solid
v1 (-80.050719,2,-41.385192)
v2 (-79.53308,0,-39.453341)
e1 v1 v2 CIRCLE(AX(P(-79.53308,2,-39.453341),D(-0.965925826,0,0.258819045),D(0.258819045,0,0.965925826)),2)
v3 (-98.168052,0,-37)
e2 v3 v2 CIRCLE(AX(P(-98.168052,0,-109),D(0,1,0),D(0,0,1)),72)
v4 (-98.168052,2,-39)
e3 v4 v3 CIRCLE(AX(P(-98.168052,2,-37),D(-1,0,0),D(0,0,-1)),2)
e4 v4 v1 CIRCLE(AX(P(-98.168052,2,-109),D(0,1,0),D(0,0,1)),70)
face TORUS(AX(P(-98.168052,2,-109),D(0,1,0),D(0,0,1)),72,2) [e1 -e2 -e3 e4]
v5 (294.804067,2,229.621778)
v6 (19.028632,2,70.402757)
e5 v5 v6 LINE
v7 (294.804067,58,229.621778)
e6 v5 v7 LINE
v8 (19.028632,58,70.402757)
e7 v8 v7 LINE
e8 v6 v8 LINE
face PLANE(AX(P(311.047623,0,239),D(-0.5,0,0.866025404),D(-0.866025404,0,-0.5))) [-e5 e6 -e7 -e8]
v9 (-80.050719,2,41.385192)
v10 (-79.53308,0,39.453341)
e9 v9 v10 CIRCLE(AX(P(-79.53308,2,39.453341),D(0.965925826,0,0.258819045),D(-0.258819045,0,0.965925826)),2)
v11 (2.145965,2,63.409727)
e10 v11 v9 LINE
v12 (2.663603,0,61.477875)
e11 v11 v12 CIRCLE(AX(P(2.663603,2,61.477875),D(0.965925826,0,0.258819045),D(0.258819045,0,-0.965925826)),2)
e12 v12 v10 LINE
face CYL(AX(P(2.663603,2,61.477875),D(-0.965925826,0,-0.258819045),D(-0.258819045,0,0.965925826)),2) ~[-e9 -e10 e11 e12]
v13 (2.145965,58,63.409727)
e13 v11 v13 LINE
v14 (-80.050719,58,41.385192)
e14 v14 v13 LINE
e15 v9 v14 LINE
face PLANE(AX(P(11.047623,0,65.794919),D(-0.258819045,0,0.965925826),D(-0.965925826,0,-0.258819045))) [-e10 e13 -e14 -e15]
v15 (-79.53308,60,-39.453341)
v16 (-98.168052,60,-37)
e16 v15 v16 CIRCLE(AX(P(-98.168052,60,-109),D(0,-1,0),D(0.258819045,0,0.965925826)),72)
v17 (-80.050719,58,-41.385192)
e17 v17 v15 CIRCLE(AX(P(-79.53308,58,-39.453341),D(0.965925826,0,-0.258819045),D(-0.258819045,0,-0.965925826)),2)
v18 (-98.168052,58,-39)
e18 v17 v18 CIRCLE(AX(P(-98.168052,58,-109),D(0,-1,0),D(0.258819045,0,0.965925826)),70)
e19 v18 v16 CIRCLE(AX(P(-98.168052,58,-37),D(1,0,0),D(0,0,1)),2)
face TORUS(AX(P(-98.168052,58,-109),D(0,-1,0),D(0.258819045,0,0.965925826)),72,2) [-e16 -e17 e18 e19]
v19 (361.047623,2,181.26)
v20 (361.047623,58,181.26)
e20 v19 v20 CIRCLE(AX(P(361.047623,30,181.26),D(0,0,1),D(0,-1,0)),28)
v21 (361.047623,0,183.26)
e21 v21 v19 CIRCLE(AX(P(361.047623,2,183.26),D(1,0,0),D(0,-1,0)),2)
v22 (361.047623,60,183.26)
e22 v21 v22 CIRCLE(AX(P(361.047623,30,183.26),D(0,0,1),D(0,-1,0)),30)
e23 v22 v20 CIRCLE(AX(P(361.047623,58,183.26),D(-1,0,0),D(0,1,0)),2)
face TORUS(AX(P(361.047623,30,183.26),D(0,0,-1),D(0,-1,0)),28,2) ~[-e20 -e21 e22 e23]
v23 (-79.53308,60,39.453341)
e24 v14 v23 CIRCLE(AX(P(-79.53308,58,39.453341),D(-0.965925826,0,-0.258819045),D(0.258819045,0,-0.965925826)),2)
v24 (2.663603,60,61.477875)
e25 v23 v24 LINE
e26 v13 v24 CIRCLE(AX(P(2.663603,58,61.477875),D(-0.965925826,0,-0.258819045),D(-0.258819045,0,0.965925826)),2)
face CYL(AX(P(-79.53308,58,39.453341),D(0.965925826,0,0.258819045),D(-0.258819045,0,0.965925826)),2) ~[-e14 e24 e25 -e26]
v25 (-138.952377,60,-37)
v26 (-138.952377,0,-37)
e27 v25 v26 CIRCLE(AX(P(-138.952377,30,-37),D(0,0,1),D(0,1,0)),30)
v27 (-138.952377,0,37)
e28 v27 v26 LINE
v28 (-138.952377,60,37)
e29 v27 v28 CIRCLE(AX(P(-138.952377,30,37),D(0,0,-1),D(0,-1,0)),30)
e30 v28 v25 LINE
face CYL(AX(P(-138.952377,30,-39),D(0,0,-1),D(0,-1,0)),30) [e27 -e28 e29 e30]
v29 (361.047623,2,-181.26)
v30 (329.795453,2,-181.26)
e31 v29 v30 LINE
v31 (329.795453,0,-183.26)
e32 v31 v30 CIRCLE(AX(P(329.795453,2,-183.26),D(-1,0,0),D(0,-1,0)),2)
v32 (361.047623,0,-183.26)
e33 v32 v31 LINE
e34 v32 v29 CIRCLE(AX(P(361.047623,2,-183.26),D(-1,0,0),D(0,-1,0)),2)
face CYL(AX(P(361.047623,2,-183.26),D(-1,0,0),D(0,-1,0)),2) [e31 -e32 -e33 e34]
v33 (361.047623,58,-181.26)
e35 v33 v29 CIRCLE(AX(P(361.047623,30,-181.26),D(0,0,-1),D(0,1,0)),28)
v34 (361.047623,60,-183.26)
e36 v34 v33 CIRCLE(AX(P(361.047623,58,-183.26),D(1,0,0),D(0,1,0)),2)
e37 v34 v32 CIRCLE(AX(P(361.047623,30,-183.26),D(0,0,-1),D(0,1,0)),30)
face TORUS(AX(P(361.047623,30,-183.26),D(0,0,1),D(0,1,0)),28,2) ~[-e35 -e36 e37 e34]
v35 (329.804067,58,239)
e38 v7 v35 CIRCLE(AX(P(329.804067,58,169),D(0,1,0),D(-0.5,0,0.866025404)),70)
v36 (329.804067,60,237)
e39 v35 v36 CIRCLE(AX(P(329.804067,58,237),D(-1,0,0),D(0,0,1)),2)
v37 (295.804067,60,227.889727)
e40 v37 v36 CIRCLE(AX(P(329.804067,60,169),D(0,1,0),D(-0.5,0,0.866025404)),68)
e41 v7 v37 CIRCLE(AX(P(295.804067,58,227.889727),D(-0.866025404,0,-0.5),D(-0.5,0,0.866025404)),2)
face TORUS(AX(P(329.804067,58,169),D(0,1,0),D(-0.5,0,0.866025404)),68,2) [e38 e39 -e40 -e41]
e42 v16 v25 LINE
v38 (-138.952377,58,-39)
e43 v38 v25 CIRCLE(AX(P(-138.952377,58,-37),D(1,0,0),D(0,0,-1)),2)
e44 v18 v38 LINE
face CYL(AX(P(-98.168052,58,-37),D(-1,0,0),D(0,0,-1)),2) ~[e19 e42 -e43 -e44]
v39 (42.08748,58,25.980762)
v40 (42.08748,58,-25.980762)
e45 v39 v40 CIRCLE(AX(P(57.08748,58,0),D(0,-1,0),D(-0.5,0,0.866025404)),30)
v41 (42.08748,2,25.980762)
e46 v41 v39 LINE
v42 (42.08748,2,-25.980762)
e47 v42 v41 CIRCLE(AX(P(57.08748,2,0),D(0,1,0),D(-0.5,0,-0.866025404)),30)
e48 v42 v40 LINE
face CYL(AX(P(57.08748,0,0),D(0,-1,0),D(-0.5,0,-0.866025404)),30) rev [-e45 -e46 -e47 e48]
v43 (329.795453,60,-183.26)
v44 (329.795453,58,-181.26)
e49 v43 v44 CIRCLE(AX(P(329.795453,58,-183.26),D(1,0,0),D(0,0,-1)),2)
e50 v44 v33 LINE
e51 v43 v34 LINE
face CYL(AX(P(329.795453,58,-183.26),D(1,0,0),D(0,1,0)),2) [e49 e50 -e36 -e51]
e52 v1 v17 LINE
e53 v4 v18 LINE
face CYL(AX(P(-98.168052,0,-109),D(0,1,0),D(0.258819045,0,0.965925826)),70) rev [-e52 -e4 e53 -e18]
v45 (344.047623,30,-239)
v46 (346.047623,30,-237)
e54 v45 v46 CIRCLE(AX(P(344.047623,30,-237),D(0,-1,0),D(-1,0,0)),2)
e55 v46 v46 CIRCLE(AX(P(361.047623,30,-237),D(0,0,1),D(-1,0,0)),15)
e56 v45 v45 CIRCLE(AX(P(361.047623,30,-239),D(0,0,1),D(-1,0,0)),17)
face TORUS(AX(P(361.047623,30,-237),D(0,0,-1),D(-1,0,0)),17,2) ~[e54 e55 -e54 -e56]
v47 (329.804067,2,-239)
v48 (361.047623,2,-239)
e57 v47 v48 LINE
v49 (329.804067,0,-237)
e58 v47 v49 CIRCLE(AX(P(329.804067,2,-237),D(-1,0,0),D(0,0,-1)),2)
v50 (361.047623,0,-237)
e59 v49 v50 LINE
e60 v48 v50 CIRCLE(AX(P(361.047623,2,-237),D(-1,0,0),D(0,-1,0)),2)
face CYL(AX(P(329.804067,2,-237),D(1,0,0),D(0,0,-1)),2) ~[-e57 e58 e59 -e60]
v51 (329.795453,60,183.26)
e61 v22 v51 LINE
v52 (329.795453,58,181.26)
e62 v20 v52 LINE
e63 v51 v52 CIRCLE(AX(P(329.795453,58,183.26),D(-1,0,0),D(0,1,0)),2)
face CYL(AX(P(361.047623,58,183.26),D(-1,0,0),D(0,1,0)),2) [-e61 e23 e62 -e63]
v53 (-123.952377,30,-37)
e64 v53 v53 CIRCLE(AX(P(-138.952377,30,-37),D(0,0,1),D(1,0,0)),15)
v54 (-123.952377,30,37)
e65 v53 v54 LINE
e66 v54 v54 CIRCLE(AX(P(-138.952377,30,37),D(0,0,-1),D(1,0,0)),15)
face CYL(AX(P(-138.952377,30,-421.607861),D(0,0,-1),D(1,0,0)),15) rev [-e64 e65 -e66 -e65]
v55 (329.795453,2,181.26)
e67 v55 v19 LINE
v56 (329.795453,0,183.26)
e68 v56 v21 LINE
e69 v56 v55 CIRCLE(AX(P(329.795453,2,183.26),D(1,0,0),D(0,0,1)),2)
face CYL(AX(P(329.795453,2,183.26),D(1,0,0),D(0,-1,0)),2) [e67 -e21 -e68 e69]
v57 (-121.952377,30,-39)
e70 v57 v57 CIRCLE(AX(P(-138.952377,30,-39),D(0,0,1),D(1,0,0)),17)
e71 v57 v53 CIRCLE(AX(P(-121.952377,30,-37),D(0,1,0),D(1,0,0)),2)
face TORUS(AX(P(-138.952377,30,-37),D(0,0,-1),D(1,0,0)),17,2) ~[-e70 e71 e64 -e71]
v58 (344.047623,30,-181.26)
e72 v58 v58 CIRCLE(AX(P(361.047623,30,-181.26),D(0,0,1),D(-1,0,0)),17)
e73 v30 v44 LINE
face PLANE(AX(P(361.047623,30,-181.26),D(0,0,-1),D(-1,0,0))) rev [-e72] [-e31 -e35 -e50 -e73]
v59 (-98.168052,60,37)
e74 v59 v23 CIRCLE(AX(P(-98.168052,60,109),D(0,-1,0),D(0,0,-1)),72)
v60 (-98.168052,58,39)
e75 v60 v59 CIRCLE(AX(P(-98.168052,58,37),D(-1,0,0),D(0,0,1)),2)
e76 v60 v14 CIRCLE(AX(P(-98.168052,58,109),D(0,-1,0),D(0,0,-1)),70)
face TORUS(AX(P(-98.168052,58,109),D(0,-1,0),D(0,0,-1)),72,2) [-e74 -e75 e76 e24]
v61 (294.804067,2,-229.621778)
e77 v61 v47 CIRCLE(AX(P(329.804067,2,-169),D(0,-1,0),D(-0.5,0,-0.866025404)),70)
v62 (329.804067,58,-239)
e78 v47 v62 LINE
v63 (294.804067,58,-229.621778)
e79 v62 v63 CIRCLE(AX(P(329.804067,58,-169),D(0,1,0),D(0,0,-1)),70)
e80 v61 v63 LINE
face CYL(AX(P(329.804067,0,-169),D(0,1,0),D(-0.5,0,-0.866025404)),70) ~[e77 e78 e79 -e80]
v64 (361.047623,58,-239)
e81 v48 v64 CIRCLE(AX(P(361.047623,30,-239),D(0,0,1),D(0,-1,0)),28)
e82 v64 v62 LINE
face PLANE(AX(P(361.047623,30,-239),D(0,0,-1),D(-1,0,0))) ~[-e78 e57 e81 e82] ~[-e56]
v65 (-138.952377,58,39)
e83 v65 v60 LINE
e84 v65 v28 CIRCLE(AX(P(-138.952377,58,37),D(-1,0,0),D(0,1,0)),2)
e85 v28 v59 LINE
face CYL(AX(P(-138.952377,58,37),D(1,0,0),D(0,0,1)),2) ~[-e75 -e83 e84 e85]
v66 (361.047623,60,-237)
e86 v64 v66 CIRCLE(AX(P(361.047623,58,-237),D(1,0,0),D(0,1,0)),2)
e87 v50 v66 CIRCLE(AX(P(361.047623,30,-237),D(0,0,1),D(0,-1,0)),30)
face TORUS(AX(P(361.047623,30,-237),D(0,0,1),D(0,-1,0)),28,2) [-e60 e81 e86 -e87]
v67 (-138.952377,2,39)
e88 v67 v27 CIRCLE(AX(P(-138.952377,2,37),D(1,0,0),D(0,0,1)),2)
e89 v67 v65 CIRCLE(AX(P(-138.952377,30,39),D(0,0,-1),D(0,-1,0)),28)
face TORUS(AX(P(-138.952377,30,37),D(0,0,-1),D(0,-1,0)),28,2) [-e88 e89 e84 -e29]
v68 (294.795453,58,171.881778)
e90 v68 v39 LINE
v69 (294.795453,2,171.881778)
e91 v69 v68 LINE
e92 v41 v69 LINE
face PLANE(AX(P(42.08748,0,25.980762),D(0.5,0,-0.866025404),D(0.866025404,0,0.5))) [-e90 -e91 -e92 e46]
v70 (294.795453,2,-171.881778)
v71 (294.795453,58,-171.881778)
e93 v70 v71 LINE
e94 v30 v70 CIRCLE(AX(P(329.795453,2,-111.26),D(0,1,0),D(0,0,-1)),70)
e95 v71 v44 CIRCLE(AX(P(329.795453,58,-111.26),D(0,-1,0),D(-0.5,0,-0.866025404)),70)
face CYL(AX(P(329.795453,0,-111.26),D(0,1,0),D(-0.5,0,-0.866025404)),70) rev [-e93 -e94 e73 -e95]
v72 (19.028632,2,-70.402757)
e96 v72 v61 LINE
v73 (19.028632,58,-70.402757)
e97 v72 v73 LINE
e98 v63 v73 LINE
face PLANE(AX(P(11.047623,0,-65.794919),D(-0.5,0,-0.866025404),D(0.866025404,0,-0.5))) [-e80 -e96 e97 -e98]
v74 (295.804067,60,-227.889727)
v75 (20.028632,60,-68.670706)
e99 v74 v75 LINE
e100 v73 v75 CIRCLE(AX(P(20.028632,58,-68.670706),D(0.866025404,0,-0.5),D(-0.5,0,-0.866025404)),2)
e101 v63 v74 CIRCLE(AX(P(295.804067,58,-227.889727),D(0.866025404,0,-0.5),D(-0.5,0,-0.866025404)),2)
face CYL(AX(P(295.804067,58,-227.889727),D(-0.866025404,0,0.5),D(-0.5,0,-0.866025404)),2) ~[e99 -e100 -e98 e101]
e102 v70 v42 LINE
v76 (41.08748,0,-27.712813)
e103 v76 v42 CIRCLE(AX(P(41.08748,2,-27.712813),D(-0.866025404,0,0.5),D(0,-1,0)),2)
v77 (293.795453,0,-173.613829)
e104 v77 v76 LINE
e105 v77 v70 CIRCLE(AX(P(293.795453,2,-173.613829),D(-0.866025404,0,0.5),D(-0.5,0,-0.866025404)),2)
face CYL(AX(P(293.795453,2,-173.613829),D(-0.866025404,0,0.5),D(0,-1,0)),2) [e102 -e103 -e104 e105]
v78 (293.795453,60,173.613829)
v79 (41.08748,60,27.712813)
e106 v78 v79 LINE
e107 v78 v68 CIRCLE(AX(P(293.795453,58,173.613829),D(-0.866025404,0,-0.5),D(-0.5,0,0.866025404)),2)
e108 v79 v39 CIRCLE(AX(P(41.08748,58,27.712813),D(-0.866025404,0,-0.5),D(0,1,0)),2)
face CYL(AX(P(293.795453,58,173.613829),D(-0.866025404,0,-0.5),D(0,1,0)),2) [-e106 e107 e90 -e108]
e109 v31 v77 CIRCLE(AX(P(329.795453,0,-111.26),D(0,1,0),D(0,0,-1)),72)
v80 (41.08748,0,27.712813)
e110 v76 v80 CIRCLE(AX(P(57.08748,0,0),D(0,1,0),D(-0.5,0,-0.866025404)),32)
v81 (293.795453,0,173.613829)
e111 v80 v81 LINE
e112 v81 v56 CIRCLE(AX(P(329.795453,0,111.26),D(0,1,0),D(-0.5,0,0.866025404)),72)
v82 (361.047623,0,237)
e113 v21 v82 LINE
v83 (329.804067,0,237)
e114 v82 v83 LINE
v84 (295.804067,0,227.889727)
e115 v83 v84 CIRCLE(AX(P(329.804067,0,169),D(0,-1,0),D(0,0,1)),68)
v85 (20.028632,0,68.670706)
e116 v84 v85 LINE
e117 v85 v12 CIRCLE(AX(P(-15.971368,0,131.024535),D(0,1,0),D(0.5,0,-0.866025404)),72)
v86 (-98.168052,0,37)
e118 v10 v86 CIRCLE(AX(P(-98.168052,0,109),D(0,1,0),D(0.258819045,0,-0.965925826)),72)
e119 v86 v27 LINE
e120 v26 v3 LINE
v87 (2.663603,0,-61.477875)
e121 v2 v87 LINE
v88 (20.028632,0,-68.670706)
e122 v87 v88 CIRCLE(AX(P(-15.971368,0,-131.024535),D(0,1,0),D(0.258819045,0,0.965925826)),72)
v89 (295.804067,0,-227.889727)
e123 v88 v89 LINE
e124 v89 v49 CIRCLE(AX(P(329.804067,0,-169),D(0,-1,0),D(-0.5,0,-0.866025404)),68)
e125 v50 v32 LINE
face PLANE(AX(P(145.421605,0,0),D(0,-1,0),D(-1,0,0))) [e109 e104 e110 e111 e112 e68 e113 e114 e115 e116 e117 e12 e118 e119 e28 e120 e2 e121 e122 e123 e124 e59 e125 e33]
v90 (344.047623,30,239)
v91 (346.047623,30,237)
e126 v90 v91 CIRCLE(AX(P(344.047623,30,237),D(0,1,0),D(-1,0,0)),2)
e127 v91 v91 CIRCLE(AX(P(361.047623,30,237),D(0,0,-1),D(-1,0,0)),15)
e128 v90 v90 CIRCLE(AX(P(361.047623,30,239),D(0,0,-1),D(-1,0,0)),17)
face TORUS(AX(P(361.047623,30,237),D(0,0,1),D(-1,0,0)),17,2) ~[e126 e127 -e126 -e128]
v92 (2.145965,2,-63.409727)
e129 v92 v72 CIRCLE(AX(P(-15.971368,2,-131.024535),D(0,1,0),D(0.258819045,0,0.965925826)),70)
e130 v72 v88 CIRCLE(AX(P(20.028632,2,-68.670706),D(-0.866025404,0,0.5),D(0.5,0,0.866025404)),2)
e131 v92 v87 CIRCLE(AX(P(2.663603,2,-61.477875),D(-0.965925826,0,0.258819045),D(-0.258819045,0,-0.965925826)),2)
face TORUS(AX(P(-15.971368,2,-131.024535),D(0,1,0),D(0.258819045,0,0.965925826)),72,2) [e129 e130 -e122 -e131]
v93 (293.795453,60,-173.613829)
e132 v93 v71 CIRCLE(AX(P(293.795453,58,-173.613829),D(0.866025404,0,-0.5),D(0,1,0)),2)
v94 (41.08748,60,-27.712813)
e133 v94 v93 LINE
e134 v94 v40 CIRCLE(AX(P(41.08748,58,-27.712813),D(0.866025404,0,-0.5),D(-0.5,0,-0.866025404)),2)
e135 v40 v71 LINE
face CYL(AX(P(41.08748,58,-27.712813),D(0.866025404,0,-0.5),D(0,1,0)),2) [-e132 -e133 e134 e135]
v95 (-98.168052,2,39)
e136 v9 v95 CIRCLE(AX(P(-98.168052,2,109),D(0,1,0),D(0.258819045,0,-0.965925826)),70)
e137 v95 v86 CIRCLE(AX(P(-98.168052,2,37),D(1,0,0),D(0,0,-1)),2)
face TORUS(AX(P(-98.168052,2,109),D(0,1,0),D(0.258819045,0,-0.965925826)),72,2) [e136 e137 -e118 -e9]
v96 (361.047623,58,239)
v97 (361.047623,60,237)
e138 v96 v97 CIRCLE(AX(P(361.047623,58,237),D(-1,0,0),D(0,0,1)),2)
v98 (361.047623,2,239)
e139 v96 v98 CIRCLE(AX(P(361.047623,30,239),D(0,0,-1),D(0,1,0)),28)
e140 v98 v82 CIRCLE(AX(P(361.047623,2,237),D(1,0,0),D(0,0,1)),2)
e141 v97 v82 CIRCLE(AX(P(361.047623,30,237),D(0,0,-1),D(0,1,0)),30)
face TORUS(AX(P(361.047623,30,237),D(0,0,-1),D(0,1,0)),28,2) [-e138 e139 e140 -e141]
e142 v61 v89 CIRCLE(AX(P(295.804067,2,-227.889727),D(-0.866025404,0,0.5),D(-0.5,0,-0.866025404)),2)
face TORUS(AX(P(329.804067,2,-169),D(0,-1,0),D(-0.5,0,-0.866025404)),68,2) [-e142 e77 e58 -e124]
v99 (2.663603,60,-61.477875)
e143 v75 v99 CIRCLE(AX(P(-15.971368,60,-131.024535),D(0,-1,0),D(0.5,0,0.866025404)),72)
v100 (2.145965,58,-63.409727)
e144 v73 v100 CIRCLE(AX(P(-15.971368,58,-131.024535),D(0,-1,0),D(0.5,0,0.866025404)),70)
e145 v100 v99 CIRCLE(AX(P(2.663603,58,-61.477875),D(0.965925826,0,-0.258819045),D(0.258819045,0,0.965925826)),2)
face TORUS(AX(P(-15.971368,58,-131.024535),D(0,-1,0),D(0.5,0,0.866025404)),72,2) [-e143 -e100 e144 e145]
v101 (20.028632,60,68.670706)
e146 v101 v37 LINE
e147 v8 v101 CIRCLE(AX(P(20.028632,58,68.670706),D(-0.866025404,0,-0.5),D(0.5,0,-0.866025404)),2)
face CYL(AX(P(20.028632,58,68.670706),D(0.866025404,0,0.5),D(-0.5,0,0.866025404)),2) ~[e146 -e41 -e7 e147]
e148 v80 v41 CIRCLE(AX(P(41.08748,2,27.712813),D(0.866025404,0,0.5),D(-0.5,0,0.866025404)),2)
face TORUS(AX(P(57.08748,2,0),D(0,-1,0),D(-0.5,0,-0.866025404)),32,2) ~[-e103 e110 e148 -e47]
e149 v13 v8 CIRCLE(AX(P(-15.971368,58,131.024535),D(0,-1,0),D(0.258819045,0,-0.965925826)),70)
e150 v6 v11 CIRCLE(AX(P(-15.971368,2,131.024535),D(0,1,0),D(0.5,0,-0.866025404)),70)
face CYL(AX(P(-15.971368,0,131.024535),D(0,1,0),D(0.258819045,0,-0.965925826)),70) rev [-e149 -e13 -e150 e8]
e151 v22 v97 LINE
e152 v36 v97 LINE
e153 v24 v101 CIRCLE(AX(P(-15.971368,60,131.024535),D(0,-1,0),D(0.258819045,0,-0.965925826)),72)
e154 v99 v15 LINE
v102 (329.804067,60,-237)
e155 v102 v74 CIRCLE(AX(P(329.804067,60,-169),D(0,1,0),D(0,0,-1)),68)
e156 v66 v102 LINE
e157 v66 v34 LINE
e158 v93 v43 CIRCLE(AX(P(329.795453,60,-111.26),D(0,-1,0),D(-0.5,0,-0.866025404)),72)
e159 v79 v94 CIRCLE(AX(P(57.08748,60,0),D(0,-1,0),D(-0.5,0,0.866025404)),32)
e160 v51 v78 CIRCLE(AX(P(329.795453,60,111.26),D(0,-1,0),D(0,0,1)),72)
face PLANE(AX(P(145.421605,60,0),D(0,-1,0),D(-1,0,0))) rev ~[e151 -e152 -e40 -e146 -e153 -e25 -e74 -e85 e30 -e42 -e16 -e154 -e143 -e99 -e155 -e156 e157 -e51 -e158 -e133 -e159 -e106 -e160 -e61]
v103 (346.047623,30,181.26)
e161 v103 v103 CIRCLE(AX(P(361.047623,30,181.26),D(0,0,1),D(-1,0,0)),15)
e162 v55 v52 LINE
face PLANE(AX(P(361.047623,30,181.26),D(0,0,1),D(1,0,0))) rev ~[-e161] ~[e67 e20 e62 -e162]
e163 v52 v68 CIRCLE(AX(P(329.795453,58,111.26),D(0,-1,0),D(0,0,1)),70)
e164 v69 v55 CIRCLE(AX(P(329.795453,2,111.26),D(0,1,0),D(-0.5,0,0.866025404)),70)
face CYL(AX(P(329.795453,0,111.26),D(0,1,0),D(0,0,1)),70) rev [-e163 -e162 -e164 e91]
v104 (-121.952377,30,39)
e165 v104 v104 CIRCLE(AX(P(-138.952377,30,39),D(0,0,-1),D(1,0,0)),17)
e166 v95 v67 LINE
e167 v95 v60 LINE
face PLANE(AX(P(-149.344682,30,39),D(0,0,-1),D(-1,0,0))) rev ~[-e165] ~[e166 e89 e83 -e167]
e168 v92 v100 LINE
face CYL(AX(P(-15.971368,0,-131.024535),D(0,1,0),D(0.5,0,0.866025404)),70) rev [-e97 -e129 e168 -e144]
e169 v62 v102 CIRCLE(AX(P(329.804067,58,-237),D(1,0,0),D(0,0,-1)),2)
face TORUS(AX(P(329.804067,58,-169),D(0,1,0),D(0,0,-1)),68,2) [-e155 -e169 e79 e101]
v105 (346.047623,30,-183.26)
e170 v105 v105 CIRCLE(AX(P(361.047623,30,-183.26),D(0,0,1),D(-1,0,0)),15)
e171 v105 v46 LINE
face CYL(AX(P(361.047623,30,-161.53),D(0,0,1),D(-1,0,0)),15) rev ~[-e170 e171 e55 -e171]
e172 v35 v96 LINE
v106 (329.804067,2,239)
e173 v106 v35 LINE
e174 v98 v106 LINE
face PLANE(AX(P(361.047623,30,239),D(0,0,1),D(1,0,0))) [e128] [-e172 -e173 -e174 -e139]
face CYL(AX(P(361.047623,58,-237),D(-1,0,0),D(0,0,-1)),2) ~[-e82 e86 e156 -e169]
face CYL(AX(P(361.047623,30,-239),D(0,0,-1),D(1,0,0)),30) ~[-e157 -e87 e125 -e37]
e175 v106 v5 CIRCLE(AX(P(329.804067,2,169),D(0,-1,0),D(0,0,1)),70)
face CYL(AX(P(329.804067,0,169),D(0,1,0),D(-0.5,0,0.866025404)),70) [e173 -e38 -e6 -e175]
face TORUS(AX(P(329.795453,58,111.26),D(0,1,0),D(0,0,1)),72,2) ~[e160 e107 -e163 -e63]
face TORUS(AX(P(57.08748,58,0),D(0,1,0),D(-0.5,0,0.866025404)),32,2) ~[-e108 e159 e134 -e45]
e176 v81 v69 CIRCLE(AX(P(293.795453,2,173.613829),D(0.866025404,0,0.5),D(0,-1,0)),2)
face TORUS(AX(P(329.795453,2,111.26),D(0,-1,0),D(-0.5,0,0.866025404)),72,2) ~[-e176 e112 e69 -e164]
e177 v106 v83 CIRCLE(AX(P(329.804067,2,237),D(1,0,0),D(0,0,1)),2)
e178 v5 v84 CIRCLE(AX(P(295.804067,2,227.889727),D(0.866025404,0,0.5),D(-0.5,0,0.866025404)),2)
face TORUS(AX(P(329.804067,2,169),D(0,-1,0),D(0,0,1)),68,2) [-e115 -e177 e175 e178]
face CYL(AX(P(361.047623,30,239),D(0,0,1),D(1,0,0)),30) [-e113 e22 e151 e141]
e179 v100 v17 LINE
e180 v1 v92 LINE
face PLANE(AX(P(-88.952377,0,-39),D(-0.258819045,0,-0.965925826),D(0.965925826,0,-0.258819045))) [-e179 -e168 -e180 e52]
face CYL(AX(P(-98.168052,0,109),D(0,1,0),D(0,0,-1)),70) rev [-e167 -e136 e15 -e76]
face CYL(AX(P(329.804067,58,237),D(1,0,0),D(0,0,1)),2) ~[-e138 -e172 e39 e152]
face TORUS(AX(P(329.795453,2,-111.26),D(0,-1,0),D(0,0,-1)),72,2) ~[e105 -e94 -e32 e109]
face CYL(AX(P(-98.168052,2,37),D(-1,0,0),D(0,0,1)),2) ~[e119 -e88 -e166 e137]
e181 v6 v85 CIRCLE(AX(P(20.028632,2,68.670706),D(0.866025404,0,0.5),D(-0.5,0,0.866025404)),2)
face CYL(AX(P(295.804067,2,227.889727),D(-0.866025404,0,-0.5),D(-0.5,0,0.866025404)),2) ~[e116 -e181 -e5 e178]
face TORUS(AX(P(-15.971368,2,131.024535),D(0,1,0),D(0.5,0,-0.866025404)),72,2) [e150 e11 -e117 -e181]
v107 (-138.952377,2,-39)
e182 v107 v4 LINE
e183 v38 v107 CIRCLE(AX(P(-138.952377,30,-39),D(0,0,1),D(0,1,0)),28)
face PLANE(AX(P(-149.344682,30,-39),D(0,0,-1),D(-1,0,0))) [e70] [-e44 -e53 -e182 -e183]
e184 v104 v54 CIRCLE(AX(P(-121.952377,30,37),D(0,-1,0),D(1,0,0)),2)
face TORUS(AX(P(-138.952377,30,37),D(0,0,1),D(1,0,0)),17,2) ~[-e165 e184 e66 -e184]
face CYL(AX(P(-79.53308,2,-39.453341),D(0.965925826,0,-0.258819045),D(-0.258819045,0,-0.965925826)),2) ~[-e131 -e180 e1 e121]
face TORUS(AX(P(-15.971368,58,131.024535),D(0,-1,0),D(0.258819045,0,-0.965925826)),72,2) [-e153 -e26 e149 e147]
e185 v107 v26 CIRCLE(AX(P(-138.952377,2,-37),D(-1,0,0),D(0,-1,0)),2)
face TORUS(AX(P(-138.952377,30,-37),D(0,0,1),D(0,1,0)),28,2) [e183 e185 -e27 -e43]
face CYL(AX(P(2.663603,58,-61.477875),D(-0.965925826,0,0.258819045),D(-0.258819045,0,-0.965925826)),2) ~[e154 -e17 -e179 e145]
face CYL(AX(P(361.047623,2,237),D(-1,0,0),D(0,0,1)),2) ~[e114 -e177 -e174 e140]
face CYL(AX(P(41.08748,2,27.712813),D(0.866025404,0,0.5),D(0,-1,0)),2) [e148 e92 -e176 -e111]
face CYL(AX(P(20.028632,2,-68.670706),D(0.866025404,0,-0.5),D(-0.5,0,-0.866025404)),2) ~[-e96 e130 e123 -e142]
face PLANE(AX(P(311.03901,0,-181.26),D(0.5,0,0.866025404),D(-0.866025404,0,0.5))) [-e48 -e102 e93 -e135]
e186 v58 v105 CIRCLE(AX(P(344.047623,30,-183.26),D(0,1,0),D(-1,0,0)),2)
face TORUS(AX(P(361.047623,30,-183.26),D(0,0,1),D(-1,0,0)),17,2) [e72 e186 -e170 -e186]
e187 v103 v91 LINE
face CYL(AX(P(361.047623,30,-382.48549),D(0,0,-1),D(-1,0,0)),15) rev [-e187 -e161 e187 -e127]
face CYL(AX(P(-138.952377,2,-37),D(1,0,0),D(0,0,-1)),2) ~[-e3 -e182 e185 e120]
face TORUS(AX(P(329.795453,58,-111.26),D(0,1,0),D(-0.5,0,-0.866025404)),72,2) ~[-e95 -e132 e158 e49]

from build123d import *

# Parameters (mm, degrees)
BOSS_EXTRUDE1_DEPTH     = 60
BOSS_EXTRUDE2_START     = -39
BOSS_EXTRUDE2_DEPTH     = 78
CUT_EXTRUDE1_DEPTH      = 460.607861331
CUT_EXTRUDE1_DEPTH_BACK = 460.607861331
SKETCH3_R               = 15
SKETCH5_R               = 30
BOSS_EXTRUDE4_DEPTH     = 57.74
CUT_EXTRUDE2_START      = -77.47
SKETCH6_R               = 15
CUT_EXTRUDE2_DEPTH      = 698.955490231
CUT_EXTRUDE3_DEPTH      = 621.485490231
CUT_EXTRUDE3_DEPTH_BACK = 621.485490231
SKETCH7_R               = 15
FILLET1_R               = 70
FILLET18_R              = 2


with BuildPart() as part:
    # Sketch1 → Boss-Extrude1 (new body)
    with BuildSketch(Plane(origin=(0, 0, 0), x_dir=(1, 0, 0), z_dir=(0, 1, 0))):
        with BuildLine():
            Line((-138.952376829, -39), (-138.952376829, 39))
            Line((-138.952376829, 39), (-88.952376829, 39))
            Line((-88.952376829, 39), (11.047623171, 65.794919243))
            Line((11.047623171, 65.794919243), (311.047623171, 239))
            Line((311.047623171, 239), (361.047623171, 239))
            Line((361.047623171, 239), (361.047623171, 181.26))
            Line((361.047623171, 181.26), (311.039009542, 181.26))
            Line((311.039009542, 181.26), (42.087480162, 25.980762114))
            ThreePointArc((42.087480162, 25.980762114), (27.087480162, 0), (42.087480162, -25.980762114))
            Line((42.087480162, -25.980762114), (311.039009542, -181.26))
            Line((311.039009542, -181.26), (361.047623171, -181.26))
            Line((361.047623171, -181.26), (361.047623171, -239))
            Line((361.047623171, -239), (311.047623171, -239))
            Line((311.047623171, -239), (11.047623171, -65.794919243))
            Line((11.047623171, -65.794919243), (-88.952376829, -39))
            Line((-88.952376829, -39), (-138.952376829, -39))
        make_face()
    boss_extrude1 = extrude(amount=BOSS_EXTRUDE1_DEPTH)

    # Sketch2 → Boss-Extrude2 (add)
    with BuildSketch(Plane.XY.offset(BOSS_EXTRUDE2_START)):
        with BuildLine():
            Line((-138.952376829, 60), (-138.952376829, 0))
            ThreePointArc((-138.952376829, 0), (-168.952376829, 30), (-138.952376829, 60))
        make_face()
    extrude(amount=BOSS_EXTRUDE2_DEPTH)

    # Sketch3 → Cut-Extrude1 (cut, two sides: drawn at the far end of the back side and taken through both)
    with BuildSketch(Plane.XY.offset(39).offset(-CUT_EXTRUDE1_DEPTH_BACK)):
        with Locations((-138.952376829, 30)):
            Circle(SKETCH3_R)
    extrude(amount=CUT_EXTRUDE1_DEPTH + CUT_EXTRUDE1_DEPTH_BACK, mode=Mode.SUBTRACT)

    # Sketch5 → Boss-Extrude4 (add)
    with BuildSketch(Plane.XY.offset(239)):
        with Locations((361.047623171, 30)):
            Circle(SKETCH5_R)
    boss_extrude4 = extrude(amount=-BOSS_EXTRUDE4_DEPTH)

    # Sketch6 → Cut-Extrude2 (cut)
    with BuildSketch(Plane.XY.offset(239).offset(CUT_EXTRUDE2_START)):
        with Locations(Location((361.047623171, 30, 0), (0, 0, 180))):
            Circle(SKETCH6_R)
    cut_extrude2 = extrude(amount=CUT_EXTRUDE2_DEPTH, mode=Mode.SUBTRACT)

    # Mirror2: Boss-Extrude1, Boss-Extrude4, Cut-Extrude2 across plane
    add(boss_extrude1.mirror(Plane.XY))
    add(boss_extrude4.mirror(Plane.XY))
    add(cut_extrude2.mirror(Plane.XY), mode=Mode.SUBTRACT)

    # Sketch7 → Cut-Extrude3 (cut, two sides: drawn at the far end of the back side and taken through both)
    with BuildSketch(Plane.XY.offset(239).offset(-CUT_EXTRUDE3_DEPTH_BACK)):
        with Locations(Location((361.047623171, 30, 0), (0, 0, 180))):
            Circle(SKETCH7_R)
        with Locations((-138.952376829, 30)):
            Circle(SKETCH7_R)
    extrude(amount=CUT_EXTRUDE3_DEPTH + CUT_EXTRUDE3_DEPTH_BACK, mode=Mode.SUBTRACT)

    # Fillet1
    fillet1_edges = [part.edges().sort_by_distance(p)[0] for p in [
        (311.039009542, 30, -181.26),
        (311.039009542, 30, 181.26),
        (311.047623171, 30, 239),
        (11.047623171, 30, 65.794919243),
        (-88.952376829, 30, 39),
        (-88.952376829, 30, -39),
        (11.047623171, 30, -65.794919243),
        (311.047623171, 30, -239),
    ]]
    fillet(fillet1_edges, radius=FILLET1_R)

    # Fillet18
    fillet18_edges = [part.edges().sort_by_distance(p)[0] for p in [
        (391.047623171, 30, -239),
        (391.047623171, 30, -181.26),
        (376.047623171, 30, -181.26),
        (376.047623171, 30, -239),
        (168.441466587, 0, -98.931270189),
        (27.087480162, 0, 0),
        (-118.560214245, 60, -39),
        (-118.560214245, 0, -39),
        (-38.952376829, 0, -52.397459622),
        (-38.952376829, 60, -52.397459622),
        (156.916349164, 0, -150.012267462),
        (156.916349164, 60, -150.012267462),
        (345.421538091, 0, 181.26),
        (345.421538091, 0, -181.26),
        (345.421538091, 60, -181.26),
        (168.441466587, 0, 98.931270189),
        (345.425844906, 0, 239),
        (156.916349164, 0, 150.012267462),
        (-38.952376829, 0, 52.397459622),
        (311.686733484, 0, 236.61480784),
        (311.686733484, 0, -236.61480784),
        (-38.952376829, 60, 52.397459622),
        (156.916349164, 60, 150.012267462),
        (345.425844906, 60, 239),
        (168.441466587, 60, 98.931270189),
        (311.686733484, 60, 236.61480784),
        (311.686733484, 60, -236.61480784),
        (-89.031218205, 0, -39.598859704),
        (-89.031218205, 60, -39.598859704),
        (10.816471953, 0, -66.352967648),
        (10.816471953, 60, -66.352967648),
        (311.678119855, 0, -178.87480784),
        (-118.560214245, 0, 39),
        (311.678119855, 60, -178.87480784),
        (311.678119855, 0, 178.87480784),
        (311.678119855, 60, 178.87480784),
        (10.816471953, 0, 66.352967648),
        (10.816471953, 60, 66.352967648),
        (-89.031218205, 0, 39.598859704),
        (-89.031218205, 60, 39.598859704),
        (345.425844906, 0, -239),
        (-118.560214245, 60, 39),
        (345.421538091, 60, 181.26),
        (-168.952376829, 30, -39),
        (-168.952376829, 30, 39),
        (345.425844906, 60, -239),
        (27.087480162, 60, 0),
        (-153.952376829, 30, -39),
        (168.441466587, 60, -98.931270189),
        (391.047623171, 30, 239),
        (391.047623171, 30, 181.26),
        (376.047623171, 30, 239),
        (-153.952376829, 30, 39),
    ]]
    fillet(fillet18_edges, radius=FILLET18_R)


solid = part.part
